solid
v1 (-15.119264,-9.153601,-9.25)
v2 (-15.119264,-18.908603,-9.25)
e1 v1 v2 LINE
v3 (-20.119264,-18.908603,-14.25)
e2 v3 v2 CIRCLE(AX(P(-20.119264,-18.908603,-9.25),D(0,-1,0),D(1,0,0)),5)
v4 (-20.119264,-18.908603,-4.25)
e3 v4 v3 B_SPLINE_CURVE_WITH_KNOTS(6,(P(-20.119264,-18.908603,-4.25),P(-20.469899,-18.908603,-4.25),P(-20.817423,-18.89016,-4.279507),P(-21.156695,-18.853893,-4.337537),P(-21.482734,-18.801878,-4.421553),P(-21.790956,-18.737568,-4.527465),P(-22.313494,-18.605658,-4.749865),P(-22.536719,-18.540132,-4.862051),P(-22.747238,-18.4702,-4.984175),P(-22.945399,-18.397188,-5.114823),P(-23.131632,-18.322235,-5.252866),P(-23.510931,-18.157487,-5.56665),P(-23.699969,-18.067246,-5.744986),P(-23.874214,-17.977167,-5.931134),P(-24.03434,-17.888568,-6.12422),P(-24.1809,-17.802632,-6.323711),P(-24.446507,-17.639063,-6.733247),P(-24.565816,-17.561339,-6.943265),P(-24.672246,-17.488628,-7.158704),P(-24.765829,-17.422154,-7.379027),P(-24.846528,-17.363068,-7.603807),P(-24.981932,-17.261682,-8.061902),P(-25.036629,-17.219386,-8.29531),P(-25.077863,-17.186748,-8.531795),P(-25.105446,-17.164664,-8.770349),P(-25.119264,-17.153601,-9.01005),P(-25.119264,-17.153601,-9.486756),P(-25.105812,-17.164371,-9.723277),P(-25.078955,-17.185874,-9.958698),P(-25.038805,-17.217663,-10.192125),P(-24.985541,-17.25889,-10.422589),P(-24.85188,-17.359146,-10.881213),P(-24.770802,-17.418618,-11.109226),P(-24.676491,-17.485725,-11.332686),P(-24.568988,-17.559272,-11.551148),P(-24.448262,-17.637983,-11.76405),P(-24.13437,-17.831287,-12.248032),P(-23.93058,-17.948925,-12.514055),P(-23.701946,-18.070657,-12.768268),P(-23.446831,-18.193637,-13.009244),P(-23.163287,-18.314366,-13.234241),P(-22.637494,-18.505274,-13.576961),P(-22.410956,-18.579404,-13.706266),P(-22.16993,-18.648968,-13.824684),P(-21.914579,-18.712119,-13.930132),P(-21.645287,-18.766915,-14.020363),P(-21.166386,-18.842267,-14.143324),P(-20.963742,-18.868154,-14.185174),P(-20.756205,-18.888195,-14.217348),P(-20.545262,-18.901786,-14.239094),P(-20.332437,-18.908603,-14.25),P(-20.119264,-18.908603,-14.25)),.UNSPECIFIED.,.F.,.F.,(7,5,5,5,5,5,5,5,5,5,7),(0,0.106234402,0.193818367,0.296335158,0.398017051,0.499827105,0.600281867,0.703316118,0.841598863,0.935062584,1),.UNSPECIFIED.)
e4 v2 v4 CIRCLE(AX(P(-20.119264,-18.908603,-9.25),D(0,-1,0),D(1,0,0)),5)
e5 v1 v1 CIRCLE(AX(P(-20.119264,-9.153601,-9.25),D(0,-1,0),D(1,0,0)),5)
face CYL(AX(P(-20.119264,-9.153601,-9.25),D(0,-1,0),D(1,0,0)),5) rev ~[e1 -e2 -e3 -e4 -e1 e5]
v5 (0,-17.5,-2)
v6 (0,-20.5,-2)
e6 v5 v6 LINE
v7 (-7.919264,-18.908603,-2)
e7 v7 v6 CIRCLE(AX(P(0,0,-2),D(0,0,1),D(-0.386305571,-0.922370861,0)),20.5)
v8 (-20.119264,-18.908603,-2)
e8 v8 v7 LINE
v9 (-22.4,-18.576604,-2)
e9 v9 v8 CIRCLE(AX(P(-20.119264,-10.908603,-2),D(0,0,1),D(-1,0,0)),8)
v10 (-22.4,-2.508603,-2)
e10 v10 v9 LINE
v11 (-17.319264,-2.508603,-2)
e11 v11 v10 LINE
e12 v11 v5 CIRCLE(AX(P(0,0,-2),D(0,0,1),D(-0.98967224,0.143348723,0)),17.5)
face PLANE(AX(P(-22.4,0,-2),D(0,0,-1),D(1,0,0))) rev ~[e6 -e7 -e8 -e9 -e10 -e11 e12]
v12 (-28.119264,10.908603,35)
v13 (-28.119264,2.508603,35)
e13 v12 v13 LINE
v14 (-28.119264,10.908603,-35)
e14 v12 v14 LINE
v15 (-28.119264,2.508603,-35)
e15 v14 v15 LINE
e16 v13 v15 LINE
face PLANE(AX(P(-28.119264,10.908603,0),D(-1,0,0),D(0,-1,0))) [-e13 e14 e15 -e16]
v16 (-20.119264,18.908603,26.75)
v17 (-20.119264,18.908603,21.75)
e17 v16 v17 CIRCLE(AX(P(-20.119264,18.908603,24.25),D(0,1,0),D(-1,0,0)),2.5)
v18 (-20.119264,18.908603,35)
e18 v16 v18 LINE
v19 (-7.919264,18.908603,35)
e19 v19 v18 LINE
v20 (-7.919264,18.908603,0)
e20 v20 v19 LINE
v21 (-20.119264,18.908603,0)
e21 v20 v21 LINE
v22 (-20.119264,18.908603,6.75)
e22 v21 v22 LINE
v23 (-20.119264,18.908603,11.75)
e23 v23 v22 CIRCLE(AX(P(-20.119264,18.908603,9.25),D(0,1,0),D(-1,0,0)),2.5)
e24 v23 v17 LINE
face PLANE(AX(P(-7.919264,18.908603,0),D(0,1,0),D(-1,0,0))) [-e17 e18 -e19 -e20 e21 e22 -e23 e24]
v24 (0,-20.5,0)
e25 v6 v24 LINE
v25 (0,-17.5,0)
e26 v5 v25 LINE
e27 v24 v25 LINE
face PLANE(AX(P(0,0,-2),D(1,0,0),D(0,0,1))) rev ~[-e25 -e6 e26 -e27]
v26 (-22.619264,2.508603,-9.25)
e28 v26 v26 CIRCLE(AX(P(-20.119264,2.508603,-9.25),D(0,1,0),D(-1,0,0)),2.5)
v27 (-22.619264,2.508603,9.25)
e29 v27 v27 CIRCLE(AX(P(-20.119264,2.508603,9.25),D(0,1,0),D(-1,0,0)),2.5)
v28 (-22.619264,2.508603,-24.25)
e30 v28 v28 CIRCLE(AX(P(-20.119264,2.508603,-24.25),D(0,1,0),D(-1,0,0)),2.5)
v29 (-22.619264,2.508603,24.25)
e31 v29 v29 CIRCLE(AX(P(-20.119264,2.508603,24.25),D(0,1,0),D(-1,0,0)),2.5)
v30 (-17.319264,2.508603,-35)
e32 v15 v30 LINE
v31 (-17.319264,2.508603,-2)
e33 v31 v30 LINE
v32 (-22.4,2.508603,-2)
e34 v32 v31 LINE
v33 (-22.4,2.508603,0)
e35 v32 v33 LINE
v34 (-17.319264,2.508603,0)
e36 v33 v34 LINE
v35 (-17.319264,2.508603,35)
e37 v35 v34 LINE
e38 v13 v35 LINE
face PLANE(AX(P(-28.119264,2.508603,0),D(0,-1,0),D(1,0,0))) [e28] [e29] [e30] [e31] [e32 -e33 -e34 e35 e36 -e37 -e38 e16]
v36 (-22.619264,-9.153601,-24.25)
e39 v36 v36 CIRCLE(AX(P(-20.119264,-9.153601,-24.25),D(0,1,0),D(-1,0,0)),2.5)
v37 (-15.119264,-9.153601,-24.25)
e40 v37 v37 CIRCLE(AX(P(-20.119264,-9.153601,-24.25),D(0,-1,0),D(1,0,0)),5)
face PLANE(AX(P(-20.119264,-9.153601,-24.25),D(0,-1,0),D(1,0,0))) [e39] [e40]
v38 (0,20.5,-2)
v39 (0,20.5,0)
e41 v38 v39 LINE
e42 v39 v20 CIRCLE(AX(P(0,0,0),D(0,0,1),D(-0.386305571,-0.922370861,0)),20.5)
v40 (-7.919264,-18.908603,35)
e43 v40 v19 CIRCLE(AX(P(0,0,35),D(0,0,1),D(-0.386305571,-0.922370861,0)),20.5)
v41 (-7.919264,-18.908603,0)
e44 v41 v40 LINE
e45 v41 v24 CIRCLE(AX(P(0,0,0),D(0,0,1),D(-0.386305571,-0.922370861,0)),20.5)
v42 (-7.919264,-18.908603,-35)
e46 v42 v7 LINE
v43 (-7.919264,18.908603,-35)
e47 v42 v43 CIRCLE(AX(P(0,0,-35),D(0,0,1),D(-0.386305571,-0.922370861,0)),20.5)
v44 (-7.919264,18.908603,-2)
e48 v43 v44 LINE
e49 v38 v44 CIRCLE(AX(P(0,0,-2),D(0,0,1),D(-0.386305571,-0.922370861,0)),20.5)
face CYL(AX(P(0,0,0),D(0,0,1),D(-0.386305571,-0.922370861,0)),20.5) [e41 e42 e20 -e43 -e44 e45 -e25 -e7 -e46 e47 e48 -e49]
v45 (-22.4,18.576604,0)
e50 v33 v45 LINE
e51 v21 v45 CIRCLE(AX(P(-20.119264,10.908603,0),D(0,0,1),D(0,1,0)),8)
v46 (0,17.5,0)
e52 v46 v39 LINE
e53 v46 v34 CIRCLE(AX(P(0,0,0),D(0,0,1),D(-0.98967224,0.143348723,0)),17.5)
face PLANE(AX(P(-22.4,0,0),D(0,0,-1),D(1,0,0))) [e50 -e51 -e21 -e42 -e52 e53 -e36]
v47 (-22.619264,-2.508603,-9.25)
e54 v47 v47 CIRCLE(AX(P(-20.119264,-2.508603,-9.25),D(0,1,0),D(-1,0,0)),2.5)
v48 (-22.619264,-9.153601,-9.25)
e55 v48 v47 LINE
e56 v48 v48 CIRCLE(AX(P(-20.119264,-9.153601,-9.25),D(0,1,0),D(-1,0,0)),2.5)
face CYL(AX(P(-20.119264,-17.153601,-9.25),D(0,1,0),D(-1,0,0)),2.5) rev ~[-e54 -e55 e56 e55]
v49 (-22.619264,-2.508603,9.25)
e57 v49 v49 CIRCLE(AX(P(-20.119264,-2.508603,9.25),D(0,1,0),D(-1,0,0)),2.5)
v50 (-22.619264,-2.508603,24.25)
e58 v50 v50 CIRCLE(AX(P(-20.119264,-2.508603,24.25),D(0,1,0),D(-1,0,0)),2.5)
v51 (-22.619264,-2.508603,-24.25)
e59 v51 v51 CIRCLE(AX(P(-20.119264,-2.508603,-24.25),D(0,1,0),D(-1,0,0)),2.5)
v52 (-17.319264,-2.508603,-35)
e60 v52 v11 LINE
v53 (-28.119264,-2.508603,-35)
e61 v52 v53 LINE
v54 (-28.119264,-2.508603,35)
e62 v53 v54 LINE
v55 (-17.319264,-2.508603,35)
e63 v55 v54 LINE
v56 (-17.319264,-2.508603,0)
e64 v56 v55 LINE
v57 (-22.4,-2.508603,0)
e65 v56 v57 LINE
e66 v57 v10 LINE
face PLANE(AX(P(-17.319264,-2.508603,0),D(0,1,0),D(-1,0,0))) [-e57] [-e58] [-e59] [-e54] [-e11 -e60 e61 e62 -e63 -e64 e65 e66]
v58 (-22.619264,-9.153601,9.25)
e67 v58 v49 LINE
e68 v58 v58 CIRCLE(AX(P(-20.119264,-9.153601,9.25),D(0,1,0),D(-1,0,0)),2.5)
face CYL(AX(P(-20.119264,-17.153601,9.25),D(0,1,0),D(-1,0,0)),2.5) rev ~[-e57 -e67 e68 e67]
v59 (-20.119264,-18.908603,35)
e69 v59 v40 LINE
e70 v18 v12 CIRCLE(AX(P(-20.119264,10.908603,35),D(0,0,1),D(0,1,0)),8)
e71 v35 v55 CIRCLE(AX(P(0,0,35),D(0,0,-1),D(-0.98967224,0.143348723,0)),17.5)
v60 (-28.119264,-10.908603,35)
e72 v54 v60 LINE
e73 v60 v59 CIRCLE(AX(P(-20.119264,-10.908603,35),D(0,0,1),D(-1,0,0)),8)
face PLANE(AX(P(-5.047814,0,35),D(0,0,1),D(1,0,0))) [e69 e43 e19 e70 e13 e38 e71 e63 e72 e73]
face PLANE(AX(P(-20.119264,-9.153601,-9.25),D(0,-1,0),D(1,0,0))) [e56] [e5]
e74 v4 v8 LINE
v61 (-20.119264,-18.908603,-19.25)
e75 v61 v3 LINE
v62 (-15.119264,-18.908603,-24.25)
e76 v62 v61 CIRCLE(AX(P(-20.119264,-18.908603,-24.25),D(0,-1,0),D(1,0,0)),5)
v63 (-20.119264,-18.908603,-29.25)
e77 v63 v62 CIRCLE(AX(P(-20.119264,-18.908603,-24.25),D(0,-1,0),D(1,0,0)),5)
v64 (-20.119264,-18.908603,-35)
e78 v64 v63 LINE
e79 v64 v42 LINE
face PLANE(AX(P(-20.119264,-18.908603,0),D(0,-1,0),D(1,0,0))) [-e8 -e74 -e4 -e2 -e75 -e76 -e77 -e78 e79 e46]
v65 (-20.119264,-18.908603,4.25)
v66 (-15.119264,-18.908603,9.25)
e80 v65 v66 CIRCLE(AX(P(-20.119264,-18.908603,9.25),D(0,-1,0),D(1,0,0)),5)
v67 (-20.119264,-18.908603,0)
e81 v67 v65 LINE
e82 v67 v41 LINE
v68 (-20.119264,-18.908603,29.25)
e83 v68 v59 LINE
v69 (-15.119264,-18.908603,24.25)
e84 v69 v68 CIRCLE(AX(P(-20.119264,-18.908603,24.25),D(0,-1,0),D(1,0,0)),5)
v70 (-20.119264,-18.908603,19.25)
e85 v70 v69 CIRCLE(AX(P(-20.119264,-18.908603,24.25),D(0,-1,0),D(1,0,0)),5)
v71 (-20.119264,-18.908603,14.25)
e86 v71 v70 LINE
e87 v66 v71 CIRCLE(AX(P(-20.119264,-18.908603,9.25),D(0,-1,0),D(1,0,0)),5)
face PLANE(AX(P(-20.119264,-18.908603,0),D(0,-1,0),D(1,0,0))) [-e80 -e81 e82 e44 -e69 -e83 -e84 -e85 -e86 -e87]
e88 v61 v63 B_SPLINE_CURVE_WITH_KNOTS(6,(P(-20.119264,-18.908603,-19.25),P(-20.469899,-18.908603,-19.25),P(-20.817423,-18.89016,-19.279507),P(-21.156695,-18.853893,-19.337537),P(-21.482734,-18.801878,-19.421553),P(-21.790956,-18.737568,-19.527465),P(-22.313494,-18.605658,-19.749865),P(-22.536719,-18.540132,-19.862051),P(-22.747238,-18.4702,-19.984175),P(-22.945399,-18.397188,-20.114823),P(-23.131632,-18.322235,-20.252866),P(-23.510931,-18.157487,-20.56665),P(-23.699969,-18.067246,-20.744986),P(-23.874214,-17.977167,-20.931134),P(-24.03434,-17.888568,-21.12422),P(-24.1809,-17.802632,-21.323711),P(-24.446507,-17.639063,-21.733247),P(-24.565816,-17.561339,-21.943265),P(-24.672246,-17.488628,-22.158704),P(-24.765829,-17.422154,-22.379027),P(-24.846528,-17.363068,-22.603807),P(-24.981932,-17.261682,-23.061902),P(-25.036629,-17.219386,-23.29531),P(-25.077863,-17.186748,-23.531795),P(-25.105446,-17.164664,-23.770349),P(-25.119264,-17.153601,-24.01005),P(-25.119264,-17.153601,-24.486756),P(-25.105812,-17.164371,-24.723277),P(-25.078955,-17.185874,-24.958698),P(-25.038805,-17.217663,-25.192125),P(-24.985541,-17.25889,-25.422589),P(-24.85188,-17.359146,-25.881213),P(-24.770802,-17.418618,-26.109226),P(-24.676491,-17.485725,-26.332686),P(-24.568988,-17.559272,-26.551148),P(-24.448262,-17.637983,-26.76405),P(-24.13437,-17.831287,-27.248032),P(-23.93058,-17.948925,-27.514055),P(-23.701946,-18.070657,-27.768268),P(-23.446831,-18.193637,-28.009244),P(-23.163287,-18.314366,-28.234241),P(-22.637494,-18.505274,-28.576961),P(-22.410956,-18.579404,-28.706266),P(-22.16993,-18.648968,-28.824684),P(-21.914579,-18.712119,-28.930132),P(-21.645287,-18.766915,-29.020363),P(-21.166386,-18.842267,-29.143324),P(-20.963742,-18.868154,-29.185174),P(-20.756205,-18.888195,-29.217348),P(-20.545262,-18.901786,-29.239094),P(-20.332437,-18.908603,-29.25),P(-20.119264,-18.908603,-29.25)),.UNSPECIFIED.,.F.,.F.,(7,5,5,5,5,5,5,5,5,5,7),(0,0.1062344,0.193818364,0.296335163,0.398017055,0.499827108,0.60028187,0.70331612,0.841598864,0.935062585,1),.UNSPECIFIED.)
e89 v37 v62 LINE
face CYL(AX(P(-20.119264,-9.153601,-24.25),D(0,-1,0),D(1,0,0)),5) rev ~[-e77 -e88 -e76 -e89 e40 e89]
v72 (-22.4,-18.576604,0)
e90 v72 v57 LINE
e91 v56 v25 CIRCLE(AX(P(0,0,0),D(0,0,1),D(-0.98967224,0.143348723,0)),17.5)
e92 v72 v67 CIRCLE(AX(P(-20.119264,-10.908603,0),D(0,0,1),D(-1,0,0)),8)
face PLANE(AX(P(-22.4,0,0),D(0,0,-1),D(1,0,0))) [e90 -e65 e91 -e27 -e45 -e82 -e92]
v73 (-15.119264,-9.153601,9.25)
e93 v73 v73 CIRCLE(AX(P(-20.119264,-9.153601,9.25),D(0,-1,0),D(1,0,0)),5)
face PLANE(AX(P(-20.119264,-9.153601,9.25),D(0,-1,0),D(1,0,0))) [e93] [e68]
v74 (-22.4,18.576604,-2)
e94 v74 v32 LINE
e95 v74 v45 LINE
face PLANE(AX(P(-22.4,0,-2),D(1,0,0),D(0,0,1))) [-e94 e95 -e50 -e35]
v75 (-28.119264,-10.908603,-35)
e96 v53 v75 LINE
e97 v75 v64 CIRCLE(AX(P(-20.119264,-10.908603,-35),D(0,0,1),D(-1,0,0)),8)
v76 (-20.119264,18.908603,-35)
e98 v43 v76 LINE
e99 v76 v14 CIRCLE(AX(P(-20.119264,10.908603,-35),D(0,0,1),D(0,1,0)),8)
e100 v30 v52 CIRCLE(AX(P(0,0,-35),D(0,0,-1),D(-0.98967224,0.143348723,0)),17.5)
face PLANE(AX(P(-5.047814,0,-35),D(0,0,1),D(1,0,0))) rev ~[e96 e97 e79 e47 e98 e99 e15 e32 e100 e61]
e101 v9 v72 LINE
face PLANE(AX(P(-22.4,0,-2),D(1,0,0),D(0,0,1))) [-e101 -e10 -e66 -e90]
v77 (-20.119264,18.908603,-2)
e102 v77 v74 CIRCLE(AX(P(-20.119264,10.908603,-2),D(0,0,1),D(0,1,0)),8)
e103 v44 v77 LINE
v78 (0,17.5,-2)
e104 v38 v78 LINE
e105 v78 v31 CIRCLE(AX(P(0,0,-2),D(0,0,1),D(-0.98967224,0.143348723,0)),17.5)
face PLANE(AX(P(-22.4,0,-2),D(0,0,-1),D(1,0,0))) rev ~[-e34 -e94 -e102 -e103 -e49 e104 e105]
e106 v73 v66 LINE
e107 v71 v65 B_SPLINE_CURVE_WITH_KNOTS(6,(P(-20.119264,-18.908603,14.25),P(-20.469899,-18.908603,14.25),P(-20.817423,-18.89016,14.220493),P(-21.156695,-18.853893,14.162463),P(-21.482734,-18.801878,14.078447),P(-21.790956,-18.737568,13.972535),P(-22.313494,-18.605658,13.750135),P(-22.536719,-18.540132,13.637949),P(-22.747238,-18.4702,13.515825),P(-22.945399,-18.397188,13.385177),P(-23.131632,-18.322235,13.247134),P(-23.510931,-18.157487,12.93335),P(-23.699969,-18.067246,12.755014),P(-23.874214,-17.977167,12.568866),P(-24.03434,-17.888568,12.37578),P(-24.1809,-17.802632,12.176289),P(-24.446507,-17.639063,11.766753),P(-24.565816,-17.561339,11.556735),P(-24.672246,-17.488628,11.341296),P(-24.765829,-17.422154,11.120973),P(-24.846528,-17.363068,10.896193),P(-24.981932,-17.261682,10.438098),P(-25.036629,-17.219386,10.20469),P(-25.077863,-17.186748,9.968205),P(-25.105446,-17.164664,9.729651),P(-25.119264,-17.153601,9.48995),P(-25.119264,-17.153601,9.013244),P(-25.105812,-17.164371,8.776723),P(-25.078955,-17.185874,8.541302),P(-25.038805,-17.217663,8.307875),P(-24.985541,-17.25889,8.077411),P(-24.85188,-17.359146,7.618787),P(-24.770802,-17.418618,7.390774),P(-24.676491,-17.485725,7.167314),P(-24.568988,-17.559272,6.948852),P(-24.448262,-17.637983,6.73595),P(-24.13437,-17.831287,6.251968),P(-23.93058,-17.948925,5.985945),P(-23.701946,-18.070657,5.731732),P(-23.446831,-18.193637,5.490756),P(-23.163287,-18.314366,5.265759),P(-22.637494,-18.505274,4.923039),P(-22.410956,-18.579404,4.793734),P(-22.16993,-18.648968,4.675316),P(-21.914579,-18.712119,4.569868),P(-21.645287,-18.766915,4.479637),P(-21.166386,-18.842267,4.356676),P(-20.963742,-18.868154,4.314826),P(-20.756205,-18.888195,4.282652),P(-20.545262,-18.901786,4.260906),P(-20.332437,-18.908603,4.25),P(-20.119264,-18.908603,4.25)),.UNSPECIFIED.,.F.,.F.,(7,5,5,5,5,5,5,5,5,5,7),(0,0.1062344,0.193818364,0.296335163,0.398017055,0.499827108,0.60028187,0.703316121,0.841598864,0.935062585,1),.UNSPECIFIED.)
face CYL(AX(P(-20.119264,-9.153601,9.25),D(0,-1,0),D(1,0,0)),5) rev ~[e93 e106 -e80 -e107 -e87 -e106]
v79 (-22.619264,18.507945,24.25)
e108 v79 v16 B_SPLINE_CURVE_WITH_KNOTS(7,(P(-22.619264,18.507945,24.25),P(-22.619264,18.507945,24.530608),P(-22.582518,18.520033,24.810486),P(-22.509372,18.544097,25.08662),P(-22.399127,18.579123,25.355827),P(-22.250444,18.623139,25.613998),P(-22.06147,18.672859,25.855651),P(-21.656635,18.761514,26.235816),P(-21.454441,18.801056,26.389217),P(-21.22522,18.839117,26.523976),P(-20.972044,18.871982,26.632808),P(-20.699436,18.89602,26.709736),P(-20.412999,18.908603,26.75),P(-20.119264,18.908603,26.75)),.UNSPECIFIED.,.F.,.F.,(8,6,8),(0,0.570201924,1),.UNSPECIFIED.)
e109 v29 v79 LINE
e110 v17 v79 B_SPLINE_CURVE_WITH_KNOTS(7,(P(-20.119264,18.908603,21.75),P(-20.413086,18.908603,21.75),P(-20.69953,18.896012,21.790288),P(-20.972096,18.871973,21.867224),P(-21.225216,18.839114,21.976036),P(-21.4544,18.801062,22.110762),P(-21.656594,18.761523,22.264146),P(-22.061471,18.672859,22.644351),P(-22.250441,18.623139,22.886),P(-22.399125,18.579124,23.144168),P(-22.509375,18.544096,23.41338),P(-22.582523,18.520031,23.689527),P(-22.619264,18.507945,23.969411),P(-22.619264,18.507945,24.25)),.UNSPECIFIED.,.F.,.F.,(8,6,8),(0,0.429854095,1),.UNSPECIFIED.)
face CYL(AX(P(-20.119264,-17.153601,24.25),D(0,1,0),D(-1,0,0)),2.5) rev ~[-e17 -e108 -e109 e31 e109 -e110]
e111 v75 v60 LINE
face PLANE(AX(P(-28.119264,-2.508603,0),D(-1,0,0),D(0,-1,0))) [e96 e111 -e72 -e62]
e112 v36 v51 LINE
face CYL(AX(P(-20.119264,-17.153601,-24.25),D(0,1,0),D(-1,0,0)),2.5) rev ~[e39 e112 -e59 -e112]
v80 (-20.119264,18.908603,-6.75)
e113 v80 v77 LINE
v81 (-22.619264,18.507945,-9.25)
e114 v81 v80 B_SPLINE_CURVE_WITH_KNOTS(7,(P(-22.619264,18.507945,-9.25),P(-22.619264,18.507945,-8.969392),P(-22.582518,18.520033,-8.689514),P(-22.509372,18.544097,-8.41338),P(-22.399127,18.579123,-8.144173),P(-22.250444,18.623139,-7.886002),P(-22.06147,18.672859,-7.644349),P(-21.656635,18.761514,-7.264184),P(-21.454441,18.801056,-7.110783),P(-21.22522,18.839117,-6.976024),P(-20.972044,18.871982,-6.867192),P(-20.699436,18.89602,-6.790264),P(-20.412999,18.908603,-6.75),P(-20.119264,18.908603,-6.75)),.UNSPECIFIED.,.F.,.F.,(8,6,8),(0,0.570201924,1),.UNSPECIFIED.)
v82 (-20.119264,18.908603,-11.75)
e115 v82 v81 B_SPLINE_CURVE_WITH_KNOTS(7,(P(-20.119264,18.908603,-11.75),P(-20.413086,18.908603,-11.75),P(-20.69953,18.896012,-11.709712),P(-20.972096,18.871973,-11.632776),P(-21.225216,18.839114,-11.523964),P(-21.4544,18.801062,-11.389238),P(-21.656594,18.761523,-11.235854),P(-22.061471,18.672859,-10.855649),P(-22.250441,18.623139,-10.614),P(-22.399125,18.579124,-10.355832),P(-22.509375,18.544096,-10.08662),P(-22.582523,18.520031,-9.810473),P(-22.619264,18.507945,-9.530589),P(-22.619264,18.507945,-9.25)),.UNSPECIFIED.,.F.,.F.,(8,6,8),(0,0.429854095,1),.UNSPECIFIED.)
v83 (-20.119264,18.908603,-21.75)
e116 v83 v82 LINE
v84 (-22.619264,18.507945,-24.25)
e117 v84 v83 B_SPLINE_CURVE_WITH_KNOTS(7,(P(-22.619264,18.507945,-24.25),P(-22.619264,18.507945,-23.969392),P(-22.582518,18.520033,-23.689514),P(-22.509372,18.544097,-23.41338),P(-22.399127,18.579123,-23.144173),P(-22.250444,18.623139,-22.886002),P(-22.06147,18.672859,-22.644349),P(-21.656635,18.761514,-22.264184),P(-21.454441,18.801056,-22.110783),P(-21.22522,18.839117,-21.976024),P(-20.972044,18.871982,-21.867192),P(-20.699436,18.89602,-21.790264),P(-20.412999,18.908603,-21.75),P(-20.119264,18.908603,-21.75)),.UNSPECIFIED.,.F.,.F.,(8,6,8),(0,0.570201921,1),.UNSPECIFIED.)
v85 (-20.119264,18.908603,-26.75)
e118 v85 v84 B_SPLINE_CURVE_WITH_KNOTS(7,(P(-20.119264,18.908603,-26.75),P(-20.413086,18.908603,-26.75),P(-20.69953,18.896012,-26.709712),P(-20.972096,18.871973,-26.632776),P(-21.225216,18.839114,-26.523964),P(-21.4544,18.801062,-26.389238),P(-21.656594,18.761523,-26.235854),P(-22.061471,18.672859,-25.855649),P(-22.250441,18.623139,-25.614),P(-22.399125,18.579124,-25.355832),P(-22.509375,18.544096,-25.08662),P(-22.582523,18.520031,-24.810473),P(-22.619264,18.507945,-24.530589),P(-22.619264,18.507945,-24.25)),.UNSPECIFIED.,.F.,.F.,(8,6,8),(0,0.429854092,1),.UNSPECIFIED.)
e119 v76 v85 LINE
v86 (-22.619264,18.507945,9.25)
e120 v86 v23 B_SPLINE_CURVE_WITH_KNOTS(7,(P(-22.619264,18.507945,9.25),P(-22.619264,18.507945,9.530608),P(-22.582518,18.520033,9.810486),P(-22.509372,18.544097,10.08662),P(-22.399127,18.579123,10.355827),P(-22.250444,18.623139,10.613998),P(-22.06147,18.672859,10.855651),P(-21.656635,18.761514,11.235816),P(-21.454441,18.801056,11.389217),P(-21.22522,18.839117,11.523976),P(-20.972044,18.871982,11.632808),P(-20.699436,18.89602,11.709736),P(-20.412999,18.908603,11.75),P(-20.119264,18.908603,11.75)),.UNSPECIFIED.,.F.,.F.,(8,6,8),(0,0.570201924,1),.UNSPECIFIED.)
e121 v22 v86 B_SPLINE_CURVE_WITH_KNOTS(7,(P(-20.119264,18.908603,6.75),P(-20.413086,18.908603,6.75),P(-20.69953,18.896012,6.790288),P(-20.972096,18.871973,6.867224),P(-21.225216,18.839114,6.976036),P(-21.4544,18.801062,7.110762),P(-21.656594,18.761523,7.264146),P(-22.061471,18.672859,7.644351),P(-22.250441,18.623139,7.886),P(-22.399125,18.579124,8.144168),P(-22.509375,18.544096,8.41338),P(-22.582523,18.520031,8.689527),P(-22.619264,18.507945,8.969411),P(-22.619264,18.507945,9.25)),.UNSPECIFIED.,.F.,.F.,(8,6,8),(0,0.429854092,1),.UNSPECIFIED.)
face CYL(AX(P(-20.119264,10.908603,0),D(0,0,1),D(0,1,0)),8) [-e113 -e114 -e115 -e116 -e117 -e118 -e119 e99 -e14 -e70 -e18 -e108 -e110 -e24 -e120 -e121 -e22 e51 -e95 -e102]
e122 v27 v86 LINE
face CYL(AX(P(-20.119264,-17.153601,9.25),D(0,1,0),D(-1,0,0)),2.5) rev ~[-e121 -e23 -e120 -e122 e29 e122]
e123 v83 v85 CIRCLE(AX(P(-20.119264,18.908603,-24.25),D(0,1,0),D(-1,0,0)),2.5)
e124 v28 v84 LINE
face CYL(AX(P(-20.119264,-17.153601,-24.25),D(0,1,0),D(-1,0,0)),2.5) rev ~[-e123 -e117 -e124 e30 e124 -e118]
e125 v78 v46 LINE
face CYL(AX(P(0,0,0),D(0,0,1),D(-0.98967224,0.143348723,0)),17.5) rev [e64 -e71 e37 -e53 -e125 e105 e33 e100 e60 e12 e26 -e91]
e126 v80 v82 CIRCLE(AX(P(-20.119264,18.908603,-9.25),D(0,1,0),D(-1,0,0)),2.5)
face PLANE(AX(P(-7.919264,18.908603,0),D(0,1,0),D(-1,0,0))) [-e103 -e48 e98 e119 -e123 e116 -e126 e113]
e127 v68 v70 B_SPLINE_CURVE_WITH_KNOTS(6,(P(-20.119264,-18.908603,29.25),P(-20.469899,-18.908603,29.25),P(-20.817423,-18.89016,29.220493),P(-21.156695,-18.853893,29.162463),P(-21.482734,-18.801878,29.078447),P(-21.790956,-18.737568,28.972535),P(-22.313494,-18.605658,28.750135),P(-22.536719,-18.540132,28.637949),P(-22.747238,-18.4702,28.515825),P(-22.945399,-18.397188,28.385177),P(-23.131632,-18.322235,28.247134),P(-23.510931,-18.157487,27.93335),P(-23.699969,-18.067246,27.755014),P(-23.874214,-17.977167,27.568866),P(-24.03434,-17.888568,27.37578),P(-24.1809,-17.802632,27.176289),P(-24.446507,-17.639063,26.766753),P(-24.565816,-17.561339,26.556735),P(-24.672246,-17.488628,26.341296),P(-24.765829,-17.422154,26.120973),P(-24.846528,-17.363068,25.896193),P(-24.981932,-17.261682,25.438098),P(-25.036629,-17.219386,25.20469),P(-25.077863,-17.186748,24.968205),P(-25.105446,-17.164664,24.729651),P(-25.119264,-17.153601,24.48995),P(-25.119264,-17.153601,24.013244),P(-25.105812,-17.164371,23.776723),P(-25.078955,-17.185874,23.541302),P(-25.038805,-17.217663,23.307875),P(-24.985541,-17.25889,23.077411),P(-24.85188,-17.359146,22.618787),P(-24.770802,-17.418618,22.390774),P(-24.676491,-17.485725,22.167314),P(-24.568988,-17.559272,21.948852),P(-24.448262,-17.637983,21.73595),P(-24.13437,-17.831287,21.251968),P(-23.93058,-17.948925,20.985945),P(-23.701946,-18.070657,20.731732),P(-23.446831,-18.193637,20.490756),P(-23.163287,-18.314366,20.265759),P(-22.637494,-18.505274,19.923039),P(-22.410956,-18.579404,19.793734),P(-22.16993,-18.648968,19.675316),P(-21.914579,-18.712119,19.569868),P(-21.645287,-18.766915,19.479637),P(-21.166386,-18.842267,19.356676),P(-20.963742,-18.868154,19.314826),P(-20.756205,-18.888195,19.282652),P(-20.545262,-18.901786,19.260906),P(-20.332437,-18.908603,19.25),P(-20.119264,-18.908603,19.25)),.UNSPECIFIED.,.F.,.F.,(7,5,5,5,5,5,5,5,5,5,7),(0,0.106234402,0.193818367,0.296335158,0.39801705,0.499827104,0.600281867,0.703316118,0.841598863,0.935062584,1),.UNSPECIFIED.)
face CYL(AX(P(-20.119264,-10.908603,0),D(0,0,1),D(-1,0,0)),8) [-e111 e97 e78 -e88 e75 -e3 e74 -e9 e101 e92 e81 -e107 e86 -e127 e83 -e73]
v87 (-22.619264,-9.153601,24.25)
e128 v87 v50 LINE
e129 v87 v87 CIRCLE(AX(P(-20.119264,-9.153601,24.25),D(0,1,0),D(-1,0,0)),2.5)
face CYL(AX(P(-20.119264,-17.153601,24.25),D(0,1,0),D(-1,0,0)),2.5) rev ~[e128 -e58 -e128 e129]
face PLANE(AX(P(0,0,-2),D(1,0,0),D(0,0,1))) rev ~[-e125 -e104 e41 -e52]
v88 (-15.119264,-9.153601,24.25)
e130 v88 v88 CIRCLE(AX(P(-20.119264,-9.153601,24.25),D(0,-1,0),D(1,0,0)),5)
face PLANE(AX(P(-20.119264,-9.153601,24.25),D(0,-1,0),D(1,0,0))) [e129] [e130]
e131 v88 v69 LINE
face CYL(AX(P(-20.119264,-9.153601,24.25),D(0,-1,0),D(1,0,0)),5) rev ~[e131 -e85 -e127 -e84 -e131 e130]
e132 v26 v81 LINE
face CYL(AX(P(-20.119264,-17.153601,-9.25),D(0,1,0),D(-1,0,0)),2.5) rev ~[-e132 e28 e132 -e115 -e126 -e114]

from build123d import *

# Parameters (mm, degrees)
F1_DEPTH       = 35
F3_D           = 5
F3_START       = 1.7550021
F3_CBORE_D     = 10
F3_CBORE_DEPTH = 8
F4_W           = 22.4
F4_H           = 2
F5_DEPTH       = 25


with BuildPart() as f1:
    # F0 (on Top) → F1 (new body, symmetric)
    with BuildSketch(Plane.XY):
        with BuildLine():
            ThreePointArc((-17.3192642082, 2.5086026559), (17.5, 0), (-17.3192642082, -2.5086026559))
            Line((-17.3192642082, -2.5086026559), (-28.1192642082, -2.5086026559))
            Line((-28.1192642082, -2.5086026559), (-28.1192642082, -10.9086026559))
            ThreePointArc((-28.1192642082, -10.9086026559), (-25.7761184577, -16.5654569054), (-20.1192642082, -18.9086026559))
            Line((-20.1192642082, -18.9086026559), (-7.9192642082, -18.9086026559))
            ThreePointArc((-7.9192642082, -18.9086026559), (20.5, 0), (-7.9192642082, 18.9086026559))
            Line((-7.9192642082, 18.9086026559), (-20.1192642082, 18.9086026559))
            ThreePointArc((-20.1192642082, 18.9086026559), (-25.7761184577, 16.5654569054), (-28.1192642082, 10.9086026559))
            Line((-28.1192642082, 10.9086026559), (-28.1192642082, 2.5086026559))
            Line((-28.1192642082, 2.5086026559), (-17.3192642082, 2.5086026559))
        make_face()
    extrude(amount=F1_DEPTH, both=True)

    # F3 (through all)
    # its depths count from where the whole tool has entered the part; down to there all is cleared
    with Locations(Plane.XZ.offset(18.9086026559).offset(-F3_START)):
        with Locations((-20.1192642082, 24.25), (-20.1192642082, 9.25), (-20.1192642082, -9.25), (-20.1192642082, -24.25)):
            CounterBoreHole(F3_D / 2, F3_CBORE_D / 2, F3_CBORE_DEPTH)

    # F4 (on Front) → F5 (cut, symmetric)
    with BuildSketch(Plane.XZ):
        with Locations((-11.2, -1)):
            Rectangle(F4_W, F4_H)
    extrude(amount=F5_DEPTH, both=True, mode=Mode.SUBTRACT)


solid = f1.part
